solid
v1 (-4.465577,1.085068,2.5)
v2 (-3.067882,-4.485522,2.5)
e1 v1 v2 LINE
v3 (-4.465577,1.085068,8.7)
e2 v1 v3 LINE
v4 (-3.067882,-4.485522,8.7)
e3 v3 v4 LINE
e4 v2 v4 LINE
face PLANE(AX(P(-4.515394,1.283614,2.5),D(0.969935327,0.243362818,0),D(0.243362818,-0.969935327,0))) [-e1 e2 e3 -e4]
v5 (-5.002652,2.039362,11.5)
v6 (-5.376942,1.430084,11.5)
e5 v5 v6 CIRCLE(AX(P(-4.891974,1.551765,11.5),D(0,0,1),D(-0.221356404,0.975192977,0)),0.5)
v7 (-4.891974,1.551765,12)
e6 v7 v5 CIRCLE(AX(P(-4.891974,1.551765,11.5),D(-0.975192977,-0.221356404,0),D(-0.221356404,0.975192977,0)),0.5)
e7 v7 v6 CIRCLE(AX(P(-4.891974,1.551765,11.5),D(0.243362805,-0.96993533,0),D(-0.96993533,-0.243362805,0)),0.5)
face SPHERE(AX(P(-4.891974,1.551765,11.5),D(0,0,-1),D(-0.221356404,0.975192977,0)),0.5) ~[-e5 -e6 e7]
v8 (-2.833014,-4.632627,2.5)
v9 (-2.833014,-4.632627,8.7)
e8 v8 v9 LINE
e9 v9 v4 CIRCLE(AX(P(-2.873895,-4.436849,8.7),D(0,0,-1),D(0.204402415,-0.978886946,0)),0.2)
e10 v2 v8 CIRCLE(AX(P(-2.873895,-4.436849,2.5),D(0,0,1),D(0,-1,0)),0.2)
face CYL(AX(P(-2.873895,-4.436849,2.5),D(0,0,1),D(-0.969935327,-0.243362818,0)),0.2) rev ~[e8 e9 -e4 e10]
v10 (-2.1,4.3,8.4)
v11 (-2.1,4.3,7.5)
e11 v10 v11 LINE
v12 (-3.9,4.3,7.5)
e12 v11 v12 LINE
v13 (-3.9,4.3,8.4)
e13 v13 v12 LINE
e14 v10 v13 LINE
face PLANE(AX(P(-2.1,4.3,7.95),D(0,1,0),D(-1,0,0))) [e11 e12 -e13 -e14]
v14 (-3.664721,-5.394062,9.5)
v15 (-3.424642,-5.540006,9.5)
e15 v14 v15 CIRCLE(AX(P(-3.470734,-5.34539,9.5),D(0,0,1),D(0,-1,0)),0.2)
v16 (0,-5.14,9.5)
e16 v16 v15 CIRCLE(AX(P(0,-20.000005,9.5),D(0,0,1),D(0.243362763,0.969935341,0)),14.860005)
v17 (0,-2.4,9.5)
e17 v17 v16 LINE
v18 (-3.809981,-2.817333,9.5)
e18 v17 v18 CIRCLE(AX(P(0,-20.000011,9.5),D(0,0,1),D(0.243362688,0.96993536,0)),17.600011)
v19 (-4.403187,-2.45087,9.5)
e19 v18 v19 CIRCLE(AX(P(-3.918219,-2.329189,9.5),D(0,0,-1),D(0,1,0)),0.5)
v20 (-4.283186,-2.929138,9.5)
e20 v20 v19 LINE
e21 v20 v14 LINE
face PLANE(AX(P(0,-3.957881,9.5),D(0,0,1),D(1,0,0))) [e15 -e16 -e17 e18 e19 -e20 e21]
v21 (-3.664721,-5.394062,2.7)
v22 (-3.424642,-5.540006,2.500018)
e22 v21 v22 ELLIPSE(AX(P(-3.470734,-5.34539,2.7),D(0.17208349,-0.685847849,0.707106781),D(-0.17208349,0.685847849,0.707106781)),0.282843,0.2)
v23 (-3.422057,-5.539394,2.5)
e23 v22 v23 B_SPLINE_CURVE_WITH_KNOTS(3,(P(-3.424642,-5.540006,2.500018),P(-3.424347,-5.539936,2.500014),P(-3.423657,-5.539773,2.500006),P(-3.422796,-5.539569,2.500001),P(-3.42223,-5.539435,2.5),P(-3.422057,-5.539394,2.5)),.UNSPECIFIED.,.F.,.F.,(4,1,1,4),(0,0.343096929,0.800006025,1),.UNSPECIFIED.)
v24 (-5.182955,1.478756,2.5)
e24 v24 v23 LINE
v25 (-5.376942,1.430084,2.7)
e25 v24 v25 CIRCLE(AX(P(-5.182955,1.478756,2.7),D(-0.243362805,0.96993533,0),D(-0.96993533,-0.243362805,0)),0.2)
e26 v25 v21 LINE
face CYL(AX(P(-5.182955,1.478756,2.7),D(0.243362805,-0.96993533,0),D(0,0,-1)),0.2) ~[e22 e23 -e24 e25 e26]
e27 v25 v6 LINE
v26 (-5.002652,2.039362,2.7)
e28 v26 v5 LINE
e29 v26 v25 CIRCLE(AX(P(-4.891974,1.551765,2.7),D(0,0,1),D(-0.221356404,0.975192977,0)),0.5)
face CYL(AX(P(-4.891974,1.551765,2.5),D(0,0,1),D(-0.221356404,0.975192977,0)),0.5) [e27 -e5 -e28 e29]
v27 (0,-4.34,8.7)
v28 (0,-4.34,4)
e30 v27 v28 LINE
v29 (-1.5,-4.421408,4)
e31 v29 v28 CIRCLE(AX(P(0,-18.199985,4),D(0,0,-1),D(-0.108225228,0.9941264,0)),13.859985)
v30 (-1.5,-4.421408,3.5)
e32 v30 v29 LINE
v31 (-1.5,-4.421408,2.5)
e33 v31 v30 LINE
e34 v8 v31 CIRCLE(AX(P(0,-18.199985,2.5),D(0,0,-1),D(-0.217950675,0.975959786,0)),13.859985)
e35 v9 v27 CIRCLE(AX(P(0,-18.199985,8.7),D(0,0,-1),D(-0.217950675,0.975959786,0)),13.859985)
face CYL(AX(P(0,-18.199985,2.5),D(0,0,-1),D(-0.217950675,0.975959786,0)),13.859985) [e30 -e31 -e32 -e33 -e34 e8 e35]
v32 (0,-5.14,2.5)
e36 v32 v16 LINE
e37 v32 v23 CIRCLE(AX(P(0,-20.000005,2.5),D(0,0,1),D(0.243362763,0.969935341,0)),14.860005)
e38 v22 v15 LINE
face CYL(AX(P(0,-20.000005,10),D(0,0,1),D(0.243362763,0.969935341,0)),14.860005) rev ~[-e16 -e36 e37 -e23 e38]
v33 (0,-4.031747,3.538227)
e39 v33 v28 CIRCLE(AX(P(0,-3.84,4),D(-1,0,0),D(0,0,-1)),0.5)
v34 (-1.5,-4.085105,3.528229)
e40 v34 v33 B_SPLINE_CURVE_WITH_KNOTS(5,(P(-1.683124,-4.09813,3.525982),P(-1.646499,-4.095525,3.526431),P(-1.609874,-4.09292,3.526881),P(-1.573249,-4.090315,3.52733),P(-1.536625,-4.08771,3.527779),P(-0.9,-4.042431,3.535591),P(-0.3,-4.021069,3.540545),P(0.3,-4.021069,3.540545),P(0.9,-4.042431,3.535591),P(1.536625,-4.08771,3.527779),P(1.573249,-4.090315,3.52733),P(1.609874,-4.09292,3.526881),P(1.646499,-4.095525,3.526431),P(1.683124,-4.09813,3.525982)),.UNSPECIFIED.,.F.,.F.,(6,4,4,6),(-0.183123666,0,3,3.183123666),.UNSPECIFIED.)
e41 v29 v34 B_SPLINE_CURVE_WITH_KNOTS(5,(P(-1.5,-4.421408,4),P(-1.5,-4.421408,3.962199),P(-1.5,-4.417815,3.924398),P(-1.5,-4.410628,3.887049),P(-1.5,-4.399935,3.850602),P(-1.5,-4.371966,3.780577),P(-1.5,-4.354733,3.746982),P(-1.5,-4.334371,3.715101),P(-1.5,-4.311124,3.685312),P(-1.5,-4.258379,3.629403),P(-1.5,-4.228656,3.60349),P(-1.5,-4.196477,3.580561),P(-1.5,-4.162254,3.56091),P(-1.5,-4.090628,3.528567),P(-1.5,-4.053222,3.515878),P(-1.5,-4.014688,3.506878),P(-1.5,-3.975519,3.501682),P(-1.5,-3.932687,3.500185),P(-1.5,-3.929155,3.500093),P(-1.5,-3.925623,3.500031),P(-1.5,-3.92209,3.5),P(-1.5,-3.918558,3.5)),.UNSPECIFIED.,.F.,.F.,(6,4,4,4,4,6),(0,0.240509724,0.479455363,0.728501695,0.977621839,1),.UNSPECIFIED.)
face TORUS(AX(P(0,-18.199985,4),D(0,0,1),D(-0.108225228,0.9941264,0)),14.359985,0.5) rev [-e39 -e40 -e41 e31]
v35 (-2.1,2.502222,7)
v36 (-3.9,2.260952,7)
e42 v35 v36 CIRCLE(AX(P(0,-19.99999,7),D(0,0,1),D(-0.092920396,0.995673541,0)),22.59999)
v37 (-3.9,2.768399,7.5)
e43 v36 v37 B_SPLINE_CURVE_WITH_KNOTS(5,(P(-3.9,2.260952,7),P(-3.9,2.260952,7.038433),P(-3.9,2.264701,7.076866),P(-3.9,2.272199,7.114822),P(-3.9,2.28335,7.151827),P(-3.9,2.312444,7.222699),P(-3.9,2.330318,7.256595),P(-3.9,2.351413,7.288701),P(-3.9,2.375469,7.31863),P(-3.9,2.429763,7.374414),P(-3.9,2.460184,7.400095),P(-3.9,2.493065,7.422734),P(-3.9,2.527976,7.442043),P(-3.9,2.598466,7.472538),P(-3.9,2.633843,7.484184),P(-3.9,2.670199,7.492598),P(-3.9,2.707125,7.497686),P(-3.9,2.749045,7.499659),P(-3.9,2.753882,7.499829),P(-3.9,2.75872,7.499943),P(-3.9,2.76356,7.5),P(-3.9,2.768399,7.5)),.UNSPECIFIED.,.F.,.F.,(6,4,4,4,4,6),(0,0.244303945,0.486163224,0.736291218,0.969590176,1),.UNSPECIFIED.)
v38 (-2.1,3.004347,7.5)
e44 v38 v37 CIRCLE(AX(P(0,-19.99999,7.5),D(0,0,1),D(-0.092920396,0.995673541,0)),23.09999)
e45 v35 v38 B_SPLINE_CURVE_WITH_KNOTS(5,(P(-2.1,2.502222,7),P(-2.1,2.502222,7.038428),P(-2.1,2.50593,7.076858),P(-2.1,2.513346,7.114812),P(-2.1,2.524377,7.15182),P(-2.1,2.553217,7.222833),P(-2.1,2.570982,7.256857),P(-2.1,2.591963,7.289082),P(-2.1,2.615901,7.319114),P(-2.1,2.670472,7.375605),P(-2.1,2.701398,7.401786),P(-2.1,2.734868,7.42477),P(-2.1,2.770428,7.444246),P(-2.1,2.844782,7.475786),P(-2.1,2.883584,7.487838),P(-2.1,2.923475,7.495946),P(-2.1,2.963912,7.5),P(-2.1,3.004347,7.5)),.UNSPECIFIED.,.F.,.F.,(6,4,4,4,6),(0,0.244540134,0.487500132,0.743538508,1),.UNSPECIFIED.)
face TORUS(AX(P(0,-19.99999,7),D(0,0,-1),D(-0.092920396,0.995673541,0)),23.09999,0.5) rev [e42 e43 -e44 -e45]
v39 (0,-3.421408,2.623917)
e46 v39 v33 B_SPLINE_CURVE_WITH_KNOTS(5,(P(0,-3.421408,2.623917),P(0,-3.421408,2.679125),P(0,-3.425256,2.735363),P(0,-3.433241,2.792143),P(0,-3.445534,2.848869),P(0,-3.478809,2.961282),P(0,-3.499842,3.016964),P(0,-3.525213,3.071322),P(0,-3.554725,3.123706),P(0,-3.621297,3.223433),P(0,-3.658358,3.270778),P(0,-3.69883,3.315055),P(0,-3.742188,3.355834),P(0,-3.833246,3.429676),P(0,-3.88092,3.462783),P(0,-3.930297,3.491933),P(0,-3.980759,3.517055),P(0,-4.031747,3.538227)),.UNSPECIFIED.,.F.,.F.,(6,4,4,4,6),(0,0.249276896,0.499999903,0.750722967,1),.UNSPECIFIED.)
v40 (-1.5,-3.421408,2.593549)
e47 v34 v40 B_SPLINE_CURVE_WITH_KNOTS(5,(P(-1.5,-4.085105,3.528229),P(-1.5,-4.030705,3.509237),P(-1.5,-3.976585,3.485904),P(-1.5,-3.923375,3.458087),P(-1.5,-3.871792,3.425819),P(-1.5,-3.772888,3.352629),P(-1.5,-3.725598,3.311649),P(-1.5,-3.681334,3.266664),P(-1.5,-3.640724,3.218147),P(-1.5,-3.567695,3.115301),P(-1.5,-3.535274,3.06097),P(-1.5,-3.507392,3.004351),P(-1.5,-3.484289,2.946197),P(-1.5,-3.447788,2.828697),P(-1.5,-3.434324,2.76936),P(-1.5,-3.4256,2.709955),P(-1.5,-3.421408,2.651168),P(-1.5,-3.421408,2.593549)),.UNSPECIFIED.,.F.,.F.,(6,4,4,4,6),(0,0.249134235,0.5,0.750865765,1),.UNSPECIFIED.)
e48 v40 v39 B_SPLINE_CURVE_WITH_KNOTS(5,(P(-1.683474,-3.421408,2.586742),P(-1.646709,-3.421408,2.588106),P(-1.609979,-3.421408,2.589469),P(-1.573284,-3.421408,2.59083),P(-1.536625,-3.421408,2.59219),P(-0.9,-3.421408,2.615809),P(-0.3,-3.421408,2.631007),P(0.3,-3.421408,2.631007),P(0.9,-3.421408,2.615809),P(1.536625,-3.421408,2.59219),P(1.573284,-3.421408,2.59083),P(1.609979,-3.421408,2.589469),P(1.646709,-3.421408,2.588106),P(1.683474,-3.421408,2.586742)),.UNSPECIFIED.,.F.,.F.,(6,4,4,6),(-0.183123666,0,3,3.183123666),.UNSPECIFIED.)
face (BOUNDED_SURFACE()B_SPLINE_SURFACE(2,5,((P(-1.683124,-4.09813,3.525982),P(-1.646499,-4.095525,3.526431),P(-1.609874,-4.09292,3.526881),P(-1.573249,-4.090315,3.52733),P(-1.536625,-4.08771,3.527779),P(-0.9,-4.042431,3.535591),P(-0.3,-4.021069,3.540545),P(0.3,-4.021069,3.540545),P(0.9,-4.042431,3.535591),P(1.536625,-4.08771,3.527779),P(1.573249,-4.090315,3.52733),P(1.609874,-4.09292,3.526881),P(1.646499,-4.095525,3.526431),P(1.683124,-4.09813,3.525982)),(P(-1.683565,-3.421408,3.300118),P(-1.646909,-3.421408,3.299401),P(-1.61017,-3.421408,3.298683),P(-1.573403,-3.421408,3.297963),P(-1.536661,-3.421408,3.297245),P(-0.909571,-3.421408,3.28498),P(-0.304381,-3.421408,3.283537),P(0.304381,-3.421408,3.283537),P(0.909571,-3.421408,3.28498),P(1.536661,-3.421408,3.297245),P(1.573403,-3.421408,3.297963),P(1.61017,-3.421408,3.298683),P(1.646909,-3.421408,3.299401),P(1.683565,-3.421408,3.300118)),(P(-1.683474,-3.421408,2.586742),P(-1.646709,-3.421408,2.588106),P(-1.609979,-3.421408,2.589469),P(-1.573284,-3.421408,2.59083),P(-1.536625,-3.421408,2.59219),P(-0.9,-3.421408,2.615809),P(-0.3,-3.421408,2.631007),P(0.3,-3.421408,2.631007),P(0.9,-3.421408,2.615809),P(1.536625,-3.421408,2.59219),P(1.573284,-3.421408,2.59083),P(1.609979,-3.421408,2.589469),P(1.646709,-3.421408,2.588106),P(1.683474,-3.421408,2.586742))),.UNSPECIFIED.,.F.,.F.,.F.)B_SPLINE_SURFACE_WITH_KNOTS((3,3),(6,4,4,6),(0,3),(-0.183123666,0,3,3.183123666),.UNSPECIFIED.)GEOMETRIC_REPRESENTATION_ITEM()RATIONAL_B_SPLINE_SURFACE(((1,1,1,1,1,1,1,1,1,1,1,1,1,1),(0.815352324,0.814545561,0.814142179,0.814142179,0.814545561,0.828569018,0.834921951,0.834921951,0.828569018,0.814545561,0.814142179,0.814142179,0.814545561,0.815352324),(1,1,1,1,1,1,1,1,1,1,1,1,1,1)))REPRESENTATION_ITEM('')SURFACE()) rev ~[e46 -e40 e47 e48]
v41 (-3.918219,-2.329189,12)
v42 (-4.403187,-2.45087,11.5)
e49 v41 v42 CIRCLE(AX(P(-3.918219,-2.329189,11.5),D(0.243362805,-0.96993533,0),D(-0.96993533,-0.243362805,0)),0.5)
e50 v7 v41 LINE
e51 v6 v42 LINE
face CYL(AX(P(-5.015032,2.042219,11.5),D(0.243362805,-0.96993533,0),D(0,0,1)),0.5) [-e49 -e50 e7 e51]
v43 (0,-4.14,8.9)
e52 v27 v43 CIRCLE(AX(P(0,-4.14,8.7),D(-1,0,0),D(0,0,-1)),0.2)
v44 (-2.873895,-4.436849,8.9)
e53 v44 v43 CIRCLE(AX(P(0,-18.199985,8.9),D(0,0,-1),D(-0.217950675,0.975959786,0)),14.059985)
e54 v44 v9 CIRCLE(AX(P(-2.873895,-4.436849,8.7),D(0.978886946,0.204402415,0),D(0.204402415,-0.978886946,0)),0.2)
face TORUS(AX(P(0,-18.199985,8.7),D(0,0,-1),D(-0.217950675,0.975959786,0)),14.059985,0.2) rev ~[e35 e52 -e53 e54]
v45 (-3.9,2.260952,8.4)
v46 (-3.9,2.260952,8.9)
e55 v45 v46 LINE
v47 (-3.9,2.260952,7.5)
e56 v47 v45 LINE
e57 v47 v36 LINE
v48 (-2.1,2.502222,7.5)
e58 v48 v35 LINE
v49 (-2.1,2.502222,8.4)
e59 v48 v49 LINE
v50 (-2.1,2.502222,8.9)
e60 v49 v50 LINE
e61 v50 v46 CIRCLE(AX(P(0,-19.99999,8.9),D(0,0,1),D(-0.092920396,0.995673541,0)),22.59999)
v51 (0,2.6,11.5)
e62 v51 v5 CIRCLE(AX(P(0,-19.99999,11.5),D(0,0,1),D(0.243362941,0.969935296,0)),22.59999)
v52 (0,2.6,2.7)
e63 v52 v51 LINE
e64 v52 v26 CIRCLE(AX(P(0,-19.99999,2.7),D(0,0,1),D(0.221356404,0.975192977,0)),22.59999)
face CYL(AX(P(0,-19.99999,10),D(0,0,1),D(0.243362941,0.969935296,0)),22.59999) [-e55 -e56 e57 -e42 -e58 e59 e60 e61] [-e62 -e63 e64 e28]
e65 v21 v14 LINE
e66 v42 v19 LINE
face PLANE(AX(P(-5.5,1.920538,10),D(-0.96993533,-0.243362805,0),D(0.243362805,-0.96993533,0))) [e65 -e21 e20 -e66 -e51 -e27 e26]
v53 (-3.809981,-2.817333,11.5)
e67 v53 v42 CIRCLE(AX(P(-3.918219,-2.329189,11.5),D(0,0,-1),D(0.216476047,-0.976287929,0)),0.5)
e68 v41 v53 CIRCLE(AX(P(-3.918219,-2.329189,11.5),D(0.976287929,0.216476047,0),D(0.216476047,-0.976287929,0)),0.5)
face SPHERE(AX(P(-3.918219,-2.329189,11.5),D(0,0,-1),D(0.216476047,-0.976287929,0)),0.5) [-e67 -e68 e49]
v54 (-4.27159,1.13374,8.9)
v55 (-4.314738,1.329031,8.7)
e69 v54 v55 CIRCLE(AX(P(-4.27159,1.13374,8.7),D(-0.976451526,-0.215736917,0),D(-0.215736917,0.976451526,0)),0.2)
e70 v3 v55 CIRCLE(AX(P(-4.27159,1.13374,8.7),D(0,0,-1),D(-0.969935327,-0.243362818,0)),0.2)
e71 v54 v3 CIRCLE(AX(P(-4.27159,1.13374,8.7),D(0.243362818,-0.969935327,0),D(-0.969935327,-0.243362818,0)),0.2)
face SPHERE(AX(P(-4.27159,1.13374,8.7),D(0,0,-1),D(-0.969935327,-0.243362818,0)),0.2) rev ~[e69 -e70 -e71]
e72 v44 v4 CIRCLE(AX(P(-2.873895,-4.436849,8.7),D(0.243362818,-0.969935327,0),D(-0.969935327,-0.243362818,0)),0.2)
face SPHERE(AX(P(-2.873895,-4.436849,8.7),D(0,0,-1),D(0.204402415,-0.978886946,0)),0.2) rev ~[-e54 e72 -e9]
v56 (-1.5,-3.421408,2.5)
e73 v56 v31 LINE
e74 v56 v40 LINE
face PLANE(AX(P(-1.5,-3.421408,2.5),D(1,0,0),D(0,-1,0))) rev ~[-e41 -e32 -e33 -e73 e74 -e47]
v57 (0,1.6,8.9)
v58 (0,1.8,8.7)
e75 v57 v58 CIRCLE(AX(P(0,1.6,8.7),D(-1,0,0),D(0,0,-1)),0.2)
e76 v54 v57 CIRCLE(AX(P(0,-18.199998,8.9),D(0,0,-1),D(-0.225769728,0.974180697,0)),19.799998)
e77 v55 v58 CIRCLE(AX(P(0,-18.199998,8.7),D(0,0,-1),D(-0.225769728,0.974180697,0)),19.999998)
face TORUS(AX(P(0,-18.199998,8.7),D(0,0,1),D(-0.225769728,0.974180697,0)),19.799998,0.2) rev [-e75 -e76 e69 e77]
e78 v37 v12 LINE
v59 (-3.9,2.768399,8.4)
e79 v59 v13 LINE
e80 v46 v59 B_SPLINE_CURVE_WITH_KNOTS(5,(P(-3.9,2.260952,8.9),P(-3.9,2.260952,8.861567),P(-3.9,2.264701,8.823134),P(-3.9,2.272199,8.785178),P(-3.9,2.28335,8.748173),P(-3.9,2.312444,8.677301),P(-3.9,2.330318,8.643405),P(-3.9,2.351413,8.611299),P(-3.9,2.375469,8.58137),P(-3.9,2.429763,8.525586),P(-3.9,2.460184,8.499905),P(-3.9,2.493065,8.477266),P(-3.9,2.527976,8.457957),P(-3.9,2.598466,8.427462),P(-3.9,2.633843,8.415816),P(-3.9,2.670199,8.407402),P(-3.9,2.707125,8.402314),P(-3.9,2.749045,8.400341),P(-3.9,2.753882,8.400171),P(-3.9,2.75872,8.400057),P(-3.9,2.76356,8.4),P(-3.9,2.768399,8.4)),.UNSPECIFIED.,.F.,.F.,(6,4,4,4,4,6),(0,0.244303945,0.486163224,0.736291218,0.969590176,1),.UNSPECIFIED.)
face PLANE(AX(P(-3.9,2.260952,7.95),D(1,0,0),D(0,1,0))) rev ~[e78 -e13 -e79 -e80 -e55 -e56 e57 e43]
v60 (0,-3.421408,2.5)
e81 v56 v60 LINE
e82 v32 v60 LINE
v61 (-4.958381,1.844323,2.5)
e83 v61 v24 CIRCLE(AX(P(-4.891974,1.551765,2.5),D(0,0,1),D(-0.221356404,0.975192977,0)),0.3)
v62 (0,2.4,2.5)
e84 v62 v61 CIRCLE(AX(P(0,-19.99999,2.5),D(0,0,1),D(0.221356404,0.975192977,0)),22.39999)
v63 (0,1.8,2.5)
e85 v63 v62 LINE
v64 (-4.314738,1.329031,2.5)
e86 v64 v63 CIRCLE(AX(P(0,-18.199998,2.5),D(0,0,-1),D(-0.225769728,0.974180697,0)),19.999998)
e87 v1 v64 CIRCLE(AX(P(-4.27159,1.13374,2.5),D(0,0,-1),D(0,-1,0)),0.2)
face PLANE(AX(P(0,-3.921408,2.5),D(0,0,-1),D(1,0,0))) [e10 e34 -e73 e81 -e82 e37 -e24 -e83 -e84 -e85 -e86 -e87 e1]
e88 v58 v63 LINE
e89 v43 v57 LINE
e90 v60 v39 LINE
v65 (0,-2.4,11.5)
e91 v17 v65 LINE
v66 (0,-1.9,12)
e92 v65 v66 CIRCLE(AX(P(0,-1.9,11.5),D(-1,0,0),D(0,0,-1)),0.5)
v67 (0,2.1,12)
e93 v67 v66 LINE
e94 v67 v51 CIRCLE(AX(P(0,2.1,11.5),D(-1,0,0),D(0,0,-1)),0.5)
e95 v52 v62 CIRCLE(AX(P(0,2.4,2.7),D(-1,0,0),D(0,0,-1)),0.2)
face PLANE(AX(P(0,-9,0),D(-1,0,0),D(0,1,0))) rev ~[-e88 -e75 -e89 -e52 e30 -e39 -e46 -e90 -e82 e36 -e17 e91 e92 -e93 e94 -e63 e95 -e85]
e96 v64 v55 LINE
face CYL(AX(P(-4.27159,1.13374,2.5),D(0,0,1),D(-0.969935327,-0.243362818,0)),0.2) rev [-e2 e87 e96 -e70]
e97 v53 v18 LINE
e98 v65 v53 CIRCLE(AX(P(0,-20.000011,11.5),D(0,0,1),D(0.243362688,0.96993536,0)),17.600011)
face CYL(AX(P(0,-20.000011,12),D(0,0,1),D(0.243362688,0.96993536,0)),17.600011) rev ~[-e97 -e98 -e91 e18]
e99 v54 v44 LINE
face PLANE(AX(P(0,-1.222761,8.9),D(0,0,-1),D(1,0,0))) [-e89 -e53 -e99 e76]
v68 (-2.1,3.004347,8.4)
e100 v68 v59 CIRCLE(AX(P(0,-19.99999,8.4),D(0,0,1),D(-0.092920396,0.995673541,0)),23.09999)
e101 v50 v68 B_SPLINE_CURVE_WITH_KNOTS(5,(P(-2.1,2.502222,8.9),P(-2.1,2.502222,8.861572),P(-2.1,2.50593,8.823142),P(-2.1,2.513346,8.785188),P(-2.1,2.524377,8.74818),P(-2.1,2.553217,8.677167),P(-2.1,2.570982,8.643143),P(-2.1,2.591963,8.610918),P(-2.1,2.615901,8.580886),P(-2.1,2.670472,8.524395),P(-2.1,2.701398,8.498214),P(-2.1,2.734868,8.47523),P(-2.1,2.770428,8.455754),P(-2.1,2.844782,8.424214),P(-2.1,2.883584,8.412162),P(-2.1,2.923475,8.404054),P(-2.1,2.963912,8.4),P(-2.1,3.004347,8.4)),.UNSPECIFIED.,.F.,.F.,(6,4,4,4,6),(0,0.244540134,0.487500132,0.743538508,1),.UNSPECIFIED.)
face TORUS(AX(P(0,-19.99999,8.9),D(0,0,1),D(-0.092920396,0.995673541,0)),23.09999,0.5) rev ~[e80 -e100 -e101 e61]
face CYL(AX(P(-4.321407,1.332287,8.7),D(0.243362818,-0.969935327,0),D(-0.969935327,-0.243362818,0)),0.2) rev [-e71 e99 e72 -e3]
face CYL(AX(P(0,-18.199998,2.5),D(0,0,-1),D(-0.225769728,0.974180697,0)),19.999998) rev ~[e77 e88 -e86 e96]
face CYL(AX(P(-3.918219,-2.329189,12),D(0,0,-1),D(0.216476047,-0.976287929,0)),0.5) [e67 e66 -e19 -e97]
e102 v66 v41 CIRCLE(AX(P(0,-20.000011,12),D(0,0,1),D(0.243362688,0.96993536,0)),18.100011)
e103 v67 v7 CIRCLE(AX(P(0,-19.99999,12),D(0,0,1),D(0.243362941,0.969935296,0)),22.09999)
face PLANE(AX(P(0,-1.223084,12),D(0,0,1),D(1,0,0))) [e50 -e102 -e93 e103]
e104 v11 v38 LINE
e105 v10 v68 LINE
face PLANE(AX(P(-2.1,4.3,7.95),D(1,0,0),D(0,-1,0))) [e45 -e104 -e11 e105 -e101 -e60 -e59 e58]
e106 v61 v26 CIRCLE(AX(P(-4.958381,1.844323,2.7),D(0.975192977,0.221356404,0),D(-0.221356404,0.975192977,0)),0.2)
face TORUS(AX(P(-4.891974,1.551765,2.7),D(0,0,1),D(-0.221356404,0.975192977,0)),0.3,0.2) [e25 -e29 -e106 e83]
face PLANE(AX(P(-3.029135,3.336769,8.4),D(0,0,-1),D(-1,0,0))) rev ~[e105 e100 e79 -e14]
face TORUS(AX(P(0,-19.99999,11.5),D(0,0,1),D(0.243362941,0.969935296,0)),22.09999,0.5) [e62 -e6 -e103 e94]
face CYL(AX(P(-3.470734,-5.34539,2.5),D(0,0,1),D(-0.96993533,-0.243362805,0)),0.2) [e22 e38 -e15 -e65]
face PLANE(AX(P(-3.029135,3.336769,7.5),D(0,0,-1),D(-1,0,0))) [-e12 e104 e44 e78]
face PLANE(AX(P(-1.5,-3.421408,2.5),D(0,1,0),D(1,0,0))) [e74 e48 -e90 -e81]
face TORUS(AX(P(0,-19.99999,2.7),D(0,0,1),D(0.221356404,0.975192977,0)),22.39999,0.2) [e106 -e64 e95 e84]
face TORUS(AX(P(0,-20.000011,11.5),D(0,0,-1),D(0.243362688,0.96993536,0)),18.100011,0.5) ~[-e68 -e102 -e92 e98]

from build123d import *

# Parameters (mm, degrees)
BOX_W             = 10
BOX_H             = 15
BOX_DEPTH         = 15
PAD_DEPTH         = 2
PAD_DEPTH_BACK    = 7.5
POCKET_DEPTH      = 6.4
POCKET001_DEPTH   = 2.5
PAD005_DEPTH      = 0.45
PAD005_DEPTH_BACK = 0.45
FILLET_R          = 0.5
FILLET008_R       = 0.2
FILLET009_R       = 0.2
FILLET010_R       = 0.5
SKETCH013_W       = 3
SKETCH013_H       = 1
PAD008_DEPTH      = 1
FILLET015_R       = 0.5
FILLET016_R       = 0.99


with BuildPart() as w_rfelst_elschnitt:
    # Box → Box (new body)
    with BuildSketch(Plane(origin=(0, -9, 0), x_dir=(1, 0, 0), z_dir=(0, 0, 1))):
        with Locations((5, 7.5)):
            Rectangle(BOX_W, BOX_H)
    extrude(amount=BOX_DEPTH)


with BuildPart() as st_el_schnitt:
    # Sketch (on DatumPlane) → Pad (new body, two sides)
    with BuildSketch(Plane.XY.offset(10)) as pad_sk:
        with BuildLine():
            ThreePointArc((5.5, 1.920538), (0, 2.6), (-5.5, 1.920538))
            Line((-5.5, 1.920538), (-3.616372, -5.586761))
            ThreePointArc((3.616372, -5.586761), (0, -5.14), (-3.616372, -5.586761))
            Line((3.616372, -5.586761), (5.5, 1.920538))
        make_face()
    extrude(amount=PAD_DEPTH)
    extrude(pad_sk.sketch, amount=-PAD_DEPTH_BACK)

    # Sketch001 (on Face5 of Pad) → Pocket (cut)
    with BuildSketch(Plane(origin=(0, 0, 2.5), x_dir=(1, 0, 0), z_dir=(0, 0, -1))):
        with BuildLine():
            ThreePointArc((-4.515394, -1.283614), (0, -1.8), (4.515394, -1.283614))
            Line((3.020793, 4.673197), (4.515394, -1.283614))
            ThreePointArc((-3.020793, 4.673197), (0, 4.34), (3.020793, 4.673197))
            Line((-4.515394, -1.283614), (-3.020793, 4.673197))
        make_face()
    extrude(amount=-POCKET_DEPTH, mode=Mode.SUBTRACT)

    # Sketch002 (on Face5 of Pocket) → Pocket001 (cut)
    with BuildSketch(Plane.XY.offset(12)):
        with BuildLine():
            ThreePointArc((4.283186, -2.929138), (0, -2.4), (-4.283186, -2.929138))
            Line((-4.283186, -2.929138), (-3.616372, -5.586761))
            ThreePointArc((3.616372, -5.586761), (0, -5.14), (-3.616372, -5.586761))
            Line((4.283186, -2.929138), (3.616372, -5.586761))
        make_face()
    extrude(amount=-POCKET001_DEPTH, mode=Mode.SUBTRACT)

    # Sketch008 (on DatumPlane) → Pad005 (join, two sides)
    with BuildSketch(Plane.XY.offset(7.95)) as pad005_sk:
        Polygon((-3.9, 2.260952), (-3.9, 4.3), (-3, 4.3), (-2.1, 4.3), (-2.1, 2.502222), align=None)
        Polygon((2.1, 2.502222), (2.1, 4.3), (3, 4.3), (3.9, 4.3), (3.9, 2.260952), align=None)
    extrude(amount=PAD005_DEPTH)
    extrude(pad005_sk.sketch, amount=-PAD005_DEPTH_BACK)

    # Fillet
    fillet_edges = [st_el_schnitt.edges().sort_by_distance(p)[0] for p in [
        (0, -2.4, 12),
        (4.891593, -0.5043, 12),
        (0, 2.6, 12),
        (-4.891593, -0.5043, 12),
        (4.283186, -2.929138, 10.75),
        (5.5, 1.920538, 7.25),
        (-5.5, 1.920538, 7.25),
        (-4.283186, -2.929138, 10.75),
    ]]
    fillet(fillet_edges, radius=FILLET_R)

    # Fillet008
    fillet008_edges = [st_el_schnitt.edges().sort_by_distance(p)[0] for p in [
        (-3.616372, -5.586761, 6),
        (3.616372, -5.586761, 6),
        (-4.496657, -2.078339, 2.5),
        (4.496657, -2.078339, 2.5),
    ]]
    fillet(fillet008_edges, radius=FILLET008_R)

    # Fillet009
    fillet009_edges = [st_el_schnitt.edges().sort_by_distance(p)[0] for p in [
        (0, -4.34, 8.9),
        (-3.768094, -1.694791, 8.9),
        (0, 1.8, 8.9),
        (3.768094, -1.694791, 8.9),
        (4.515394, 1.283614, 5.7),
        (3.020793, -4.673197, 5.7),
        (-3.020793, -4.673197, 5.7),
        (-4.515394, 1.283614, 5.7),
    ]]
    fillet(fillet009_edges, radius=FILLET009_R)

    # Fillet010
    fillet010_edges = [st_el_schnitt.edges().sort_by_distance(p)[0] for p in [
        (-3.002424, 2.399675, 8.4),
        (-3.002424, 2.399675, 7.5),
        (3.002424, 2.399675, 7.5),
        (3.002424, 2.399675, 8.4),
    ]]
    fillet(fillet010_edges, radius=FILLET010_R)

    # Sketch013 (on Face21 of Fillet010) → Pad008 (join)
    with BuildSketch(Plane(origin=(0, 0, 2.5), x_dir=(1, 0, 0), z_dir=(0, 0, -1))):
        with Locations((0, 3.921408)):
            Rectangle(SKETCH013_W, SKETCH013_H)
    extrude(amount=-PAD008_DEPTH)

    # Fillet015
    fillet015_edges = [st_el_schnitt.edges().sort_by_distance(p)[0] for p in [
        (0, -4.34, 3.5),
    ]]
    fillet(fillet015_edges, radius=FILLET015_R)

    # Fillet016
    fillet016_edges = [st_el_schnitt.edges().sort_by_distance(p)[0] for p in [
        (0, -3.421408, 3.5),
    ]]
    fillet(fillet016_edges, radius=FILLET016_R)

    # Cut: cut WürfelStößelSchnitt
    add(w_rfelst_elschnitt.part, mode=Mode.SUBTRACT)


solid = st_el_schnitt.part
